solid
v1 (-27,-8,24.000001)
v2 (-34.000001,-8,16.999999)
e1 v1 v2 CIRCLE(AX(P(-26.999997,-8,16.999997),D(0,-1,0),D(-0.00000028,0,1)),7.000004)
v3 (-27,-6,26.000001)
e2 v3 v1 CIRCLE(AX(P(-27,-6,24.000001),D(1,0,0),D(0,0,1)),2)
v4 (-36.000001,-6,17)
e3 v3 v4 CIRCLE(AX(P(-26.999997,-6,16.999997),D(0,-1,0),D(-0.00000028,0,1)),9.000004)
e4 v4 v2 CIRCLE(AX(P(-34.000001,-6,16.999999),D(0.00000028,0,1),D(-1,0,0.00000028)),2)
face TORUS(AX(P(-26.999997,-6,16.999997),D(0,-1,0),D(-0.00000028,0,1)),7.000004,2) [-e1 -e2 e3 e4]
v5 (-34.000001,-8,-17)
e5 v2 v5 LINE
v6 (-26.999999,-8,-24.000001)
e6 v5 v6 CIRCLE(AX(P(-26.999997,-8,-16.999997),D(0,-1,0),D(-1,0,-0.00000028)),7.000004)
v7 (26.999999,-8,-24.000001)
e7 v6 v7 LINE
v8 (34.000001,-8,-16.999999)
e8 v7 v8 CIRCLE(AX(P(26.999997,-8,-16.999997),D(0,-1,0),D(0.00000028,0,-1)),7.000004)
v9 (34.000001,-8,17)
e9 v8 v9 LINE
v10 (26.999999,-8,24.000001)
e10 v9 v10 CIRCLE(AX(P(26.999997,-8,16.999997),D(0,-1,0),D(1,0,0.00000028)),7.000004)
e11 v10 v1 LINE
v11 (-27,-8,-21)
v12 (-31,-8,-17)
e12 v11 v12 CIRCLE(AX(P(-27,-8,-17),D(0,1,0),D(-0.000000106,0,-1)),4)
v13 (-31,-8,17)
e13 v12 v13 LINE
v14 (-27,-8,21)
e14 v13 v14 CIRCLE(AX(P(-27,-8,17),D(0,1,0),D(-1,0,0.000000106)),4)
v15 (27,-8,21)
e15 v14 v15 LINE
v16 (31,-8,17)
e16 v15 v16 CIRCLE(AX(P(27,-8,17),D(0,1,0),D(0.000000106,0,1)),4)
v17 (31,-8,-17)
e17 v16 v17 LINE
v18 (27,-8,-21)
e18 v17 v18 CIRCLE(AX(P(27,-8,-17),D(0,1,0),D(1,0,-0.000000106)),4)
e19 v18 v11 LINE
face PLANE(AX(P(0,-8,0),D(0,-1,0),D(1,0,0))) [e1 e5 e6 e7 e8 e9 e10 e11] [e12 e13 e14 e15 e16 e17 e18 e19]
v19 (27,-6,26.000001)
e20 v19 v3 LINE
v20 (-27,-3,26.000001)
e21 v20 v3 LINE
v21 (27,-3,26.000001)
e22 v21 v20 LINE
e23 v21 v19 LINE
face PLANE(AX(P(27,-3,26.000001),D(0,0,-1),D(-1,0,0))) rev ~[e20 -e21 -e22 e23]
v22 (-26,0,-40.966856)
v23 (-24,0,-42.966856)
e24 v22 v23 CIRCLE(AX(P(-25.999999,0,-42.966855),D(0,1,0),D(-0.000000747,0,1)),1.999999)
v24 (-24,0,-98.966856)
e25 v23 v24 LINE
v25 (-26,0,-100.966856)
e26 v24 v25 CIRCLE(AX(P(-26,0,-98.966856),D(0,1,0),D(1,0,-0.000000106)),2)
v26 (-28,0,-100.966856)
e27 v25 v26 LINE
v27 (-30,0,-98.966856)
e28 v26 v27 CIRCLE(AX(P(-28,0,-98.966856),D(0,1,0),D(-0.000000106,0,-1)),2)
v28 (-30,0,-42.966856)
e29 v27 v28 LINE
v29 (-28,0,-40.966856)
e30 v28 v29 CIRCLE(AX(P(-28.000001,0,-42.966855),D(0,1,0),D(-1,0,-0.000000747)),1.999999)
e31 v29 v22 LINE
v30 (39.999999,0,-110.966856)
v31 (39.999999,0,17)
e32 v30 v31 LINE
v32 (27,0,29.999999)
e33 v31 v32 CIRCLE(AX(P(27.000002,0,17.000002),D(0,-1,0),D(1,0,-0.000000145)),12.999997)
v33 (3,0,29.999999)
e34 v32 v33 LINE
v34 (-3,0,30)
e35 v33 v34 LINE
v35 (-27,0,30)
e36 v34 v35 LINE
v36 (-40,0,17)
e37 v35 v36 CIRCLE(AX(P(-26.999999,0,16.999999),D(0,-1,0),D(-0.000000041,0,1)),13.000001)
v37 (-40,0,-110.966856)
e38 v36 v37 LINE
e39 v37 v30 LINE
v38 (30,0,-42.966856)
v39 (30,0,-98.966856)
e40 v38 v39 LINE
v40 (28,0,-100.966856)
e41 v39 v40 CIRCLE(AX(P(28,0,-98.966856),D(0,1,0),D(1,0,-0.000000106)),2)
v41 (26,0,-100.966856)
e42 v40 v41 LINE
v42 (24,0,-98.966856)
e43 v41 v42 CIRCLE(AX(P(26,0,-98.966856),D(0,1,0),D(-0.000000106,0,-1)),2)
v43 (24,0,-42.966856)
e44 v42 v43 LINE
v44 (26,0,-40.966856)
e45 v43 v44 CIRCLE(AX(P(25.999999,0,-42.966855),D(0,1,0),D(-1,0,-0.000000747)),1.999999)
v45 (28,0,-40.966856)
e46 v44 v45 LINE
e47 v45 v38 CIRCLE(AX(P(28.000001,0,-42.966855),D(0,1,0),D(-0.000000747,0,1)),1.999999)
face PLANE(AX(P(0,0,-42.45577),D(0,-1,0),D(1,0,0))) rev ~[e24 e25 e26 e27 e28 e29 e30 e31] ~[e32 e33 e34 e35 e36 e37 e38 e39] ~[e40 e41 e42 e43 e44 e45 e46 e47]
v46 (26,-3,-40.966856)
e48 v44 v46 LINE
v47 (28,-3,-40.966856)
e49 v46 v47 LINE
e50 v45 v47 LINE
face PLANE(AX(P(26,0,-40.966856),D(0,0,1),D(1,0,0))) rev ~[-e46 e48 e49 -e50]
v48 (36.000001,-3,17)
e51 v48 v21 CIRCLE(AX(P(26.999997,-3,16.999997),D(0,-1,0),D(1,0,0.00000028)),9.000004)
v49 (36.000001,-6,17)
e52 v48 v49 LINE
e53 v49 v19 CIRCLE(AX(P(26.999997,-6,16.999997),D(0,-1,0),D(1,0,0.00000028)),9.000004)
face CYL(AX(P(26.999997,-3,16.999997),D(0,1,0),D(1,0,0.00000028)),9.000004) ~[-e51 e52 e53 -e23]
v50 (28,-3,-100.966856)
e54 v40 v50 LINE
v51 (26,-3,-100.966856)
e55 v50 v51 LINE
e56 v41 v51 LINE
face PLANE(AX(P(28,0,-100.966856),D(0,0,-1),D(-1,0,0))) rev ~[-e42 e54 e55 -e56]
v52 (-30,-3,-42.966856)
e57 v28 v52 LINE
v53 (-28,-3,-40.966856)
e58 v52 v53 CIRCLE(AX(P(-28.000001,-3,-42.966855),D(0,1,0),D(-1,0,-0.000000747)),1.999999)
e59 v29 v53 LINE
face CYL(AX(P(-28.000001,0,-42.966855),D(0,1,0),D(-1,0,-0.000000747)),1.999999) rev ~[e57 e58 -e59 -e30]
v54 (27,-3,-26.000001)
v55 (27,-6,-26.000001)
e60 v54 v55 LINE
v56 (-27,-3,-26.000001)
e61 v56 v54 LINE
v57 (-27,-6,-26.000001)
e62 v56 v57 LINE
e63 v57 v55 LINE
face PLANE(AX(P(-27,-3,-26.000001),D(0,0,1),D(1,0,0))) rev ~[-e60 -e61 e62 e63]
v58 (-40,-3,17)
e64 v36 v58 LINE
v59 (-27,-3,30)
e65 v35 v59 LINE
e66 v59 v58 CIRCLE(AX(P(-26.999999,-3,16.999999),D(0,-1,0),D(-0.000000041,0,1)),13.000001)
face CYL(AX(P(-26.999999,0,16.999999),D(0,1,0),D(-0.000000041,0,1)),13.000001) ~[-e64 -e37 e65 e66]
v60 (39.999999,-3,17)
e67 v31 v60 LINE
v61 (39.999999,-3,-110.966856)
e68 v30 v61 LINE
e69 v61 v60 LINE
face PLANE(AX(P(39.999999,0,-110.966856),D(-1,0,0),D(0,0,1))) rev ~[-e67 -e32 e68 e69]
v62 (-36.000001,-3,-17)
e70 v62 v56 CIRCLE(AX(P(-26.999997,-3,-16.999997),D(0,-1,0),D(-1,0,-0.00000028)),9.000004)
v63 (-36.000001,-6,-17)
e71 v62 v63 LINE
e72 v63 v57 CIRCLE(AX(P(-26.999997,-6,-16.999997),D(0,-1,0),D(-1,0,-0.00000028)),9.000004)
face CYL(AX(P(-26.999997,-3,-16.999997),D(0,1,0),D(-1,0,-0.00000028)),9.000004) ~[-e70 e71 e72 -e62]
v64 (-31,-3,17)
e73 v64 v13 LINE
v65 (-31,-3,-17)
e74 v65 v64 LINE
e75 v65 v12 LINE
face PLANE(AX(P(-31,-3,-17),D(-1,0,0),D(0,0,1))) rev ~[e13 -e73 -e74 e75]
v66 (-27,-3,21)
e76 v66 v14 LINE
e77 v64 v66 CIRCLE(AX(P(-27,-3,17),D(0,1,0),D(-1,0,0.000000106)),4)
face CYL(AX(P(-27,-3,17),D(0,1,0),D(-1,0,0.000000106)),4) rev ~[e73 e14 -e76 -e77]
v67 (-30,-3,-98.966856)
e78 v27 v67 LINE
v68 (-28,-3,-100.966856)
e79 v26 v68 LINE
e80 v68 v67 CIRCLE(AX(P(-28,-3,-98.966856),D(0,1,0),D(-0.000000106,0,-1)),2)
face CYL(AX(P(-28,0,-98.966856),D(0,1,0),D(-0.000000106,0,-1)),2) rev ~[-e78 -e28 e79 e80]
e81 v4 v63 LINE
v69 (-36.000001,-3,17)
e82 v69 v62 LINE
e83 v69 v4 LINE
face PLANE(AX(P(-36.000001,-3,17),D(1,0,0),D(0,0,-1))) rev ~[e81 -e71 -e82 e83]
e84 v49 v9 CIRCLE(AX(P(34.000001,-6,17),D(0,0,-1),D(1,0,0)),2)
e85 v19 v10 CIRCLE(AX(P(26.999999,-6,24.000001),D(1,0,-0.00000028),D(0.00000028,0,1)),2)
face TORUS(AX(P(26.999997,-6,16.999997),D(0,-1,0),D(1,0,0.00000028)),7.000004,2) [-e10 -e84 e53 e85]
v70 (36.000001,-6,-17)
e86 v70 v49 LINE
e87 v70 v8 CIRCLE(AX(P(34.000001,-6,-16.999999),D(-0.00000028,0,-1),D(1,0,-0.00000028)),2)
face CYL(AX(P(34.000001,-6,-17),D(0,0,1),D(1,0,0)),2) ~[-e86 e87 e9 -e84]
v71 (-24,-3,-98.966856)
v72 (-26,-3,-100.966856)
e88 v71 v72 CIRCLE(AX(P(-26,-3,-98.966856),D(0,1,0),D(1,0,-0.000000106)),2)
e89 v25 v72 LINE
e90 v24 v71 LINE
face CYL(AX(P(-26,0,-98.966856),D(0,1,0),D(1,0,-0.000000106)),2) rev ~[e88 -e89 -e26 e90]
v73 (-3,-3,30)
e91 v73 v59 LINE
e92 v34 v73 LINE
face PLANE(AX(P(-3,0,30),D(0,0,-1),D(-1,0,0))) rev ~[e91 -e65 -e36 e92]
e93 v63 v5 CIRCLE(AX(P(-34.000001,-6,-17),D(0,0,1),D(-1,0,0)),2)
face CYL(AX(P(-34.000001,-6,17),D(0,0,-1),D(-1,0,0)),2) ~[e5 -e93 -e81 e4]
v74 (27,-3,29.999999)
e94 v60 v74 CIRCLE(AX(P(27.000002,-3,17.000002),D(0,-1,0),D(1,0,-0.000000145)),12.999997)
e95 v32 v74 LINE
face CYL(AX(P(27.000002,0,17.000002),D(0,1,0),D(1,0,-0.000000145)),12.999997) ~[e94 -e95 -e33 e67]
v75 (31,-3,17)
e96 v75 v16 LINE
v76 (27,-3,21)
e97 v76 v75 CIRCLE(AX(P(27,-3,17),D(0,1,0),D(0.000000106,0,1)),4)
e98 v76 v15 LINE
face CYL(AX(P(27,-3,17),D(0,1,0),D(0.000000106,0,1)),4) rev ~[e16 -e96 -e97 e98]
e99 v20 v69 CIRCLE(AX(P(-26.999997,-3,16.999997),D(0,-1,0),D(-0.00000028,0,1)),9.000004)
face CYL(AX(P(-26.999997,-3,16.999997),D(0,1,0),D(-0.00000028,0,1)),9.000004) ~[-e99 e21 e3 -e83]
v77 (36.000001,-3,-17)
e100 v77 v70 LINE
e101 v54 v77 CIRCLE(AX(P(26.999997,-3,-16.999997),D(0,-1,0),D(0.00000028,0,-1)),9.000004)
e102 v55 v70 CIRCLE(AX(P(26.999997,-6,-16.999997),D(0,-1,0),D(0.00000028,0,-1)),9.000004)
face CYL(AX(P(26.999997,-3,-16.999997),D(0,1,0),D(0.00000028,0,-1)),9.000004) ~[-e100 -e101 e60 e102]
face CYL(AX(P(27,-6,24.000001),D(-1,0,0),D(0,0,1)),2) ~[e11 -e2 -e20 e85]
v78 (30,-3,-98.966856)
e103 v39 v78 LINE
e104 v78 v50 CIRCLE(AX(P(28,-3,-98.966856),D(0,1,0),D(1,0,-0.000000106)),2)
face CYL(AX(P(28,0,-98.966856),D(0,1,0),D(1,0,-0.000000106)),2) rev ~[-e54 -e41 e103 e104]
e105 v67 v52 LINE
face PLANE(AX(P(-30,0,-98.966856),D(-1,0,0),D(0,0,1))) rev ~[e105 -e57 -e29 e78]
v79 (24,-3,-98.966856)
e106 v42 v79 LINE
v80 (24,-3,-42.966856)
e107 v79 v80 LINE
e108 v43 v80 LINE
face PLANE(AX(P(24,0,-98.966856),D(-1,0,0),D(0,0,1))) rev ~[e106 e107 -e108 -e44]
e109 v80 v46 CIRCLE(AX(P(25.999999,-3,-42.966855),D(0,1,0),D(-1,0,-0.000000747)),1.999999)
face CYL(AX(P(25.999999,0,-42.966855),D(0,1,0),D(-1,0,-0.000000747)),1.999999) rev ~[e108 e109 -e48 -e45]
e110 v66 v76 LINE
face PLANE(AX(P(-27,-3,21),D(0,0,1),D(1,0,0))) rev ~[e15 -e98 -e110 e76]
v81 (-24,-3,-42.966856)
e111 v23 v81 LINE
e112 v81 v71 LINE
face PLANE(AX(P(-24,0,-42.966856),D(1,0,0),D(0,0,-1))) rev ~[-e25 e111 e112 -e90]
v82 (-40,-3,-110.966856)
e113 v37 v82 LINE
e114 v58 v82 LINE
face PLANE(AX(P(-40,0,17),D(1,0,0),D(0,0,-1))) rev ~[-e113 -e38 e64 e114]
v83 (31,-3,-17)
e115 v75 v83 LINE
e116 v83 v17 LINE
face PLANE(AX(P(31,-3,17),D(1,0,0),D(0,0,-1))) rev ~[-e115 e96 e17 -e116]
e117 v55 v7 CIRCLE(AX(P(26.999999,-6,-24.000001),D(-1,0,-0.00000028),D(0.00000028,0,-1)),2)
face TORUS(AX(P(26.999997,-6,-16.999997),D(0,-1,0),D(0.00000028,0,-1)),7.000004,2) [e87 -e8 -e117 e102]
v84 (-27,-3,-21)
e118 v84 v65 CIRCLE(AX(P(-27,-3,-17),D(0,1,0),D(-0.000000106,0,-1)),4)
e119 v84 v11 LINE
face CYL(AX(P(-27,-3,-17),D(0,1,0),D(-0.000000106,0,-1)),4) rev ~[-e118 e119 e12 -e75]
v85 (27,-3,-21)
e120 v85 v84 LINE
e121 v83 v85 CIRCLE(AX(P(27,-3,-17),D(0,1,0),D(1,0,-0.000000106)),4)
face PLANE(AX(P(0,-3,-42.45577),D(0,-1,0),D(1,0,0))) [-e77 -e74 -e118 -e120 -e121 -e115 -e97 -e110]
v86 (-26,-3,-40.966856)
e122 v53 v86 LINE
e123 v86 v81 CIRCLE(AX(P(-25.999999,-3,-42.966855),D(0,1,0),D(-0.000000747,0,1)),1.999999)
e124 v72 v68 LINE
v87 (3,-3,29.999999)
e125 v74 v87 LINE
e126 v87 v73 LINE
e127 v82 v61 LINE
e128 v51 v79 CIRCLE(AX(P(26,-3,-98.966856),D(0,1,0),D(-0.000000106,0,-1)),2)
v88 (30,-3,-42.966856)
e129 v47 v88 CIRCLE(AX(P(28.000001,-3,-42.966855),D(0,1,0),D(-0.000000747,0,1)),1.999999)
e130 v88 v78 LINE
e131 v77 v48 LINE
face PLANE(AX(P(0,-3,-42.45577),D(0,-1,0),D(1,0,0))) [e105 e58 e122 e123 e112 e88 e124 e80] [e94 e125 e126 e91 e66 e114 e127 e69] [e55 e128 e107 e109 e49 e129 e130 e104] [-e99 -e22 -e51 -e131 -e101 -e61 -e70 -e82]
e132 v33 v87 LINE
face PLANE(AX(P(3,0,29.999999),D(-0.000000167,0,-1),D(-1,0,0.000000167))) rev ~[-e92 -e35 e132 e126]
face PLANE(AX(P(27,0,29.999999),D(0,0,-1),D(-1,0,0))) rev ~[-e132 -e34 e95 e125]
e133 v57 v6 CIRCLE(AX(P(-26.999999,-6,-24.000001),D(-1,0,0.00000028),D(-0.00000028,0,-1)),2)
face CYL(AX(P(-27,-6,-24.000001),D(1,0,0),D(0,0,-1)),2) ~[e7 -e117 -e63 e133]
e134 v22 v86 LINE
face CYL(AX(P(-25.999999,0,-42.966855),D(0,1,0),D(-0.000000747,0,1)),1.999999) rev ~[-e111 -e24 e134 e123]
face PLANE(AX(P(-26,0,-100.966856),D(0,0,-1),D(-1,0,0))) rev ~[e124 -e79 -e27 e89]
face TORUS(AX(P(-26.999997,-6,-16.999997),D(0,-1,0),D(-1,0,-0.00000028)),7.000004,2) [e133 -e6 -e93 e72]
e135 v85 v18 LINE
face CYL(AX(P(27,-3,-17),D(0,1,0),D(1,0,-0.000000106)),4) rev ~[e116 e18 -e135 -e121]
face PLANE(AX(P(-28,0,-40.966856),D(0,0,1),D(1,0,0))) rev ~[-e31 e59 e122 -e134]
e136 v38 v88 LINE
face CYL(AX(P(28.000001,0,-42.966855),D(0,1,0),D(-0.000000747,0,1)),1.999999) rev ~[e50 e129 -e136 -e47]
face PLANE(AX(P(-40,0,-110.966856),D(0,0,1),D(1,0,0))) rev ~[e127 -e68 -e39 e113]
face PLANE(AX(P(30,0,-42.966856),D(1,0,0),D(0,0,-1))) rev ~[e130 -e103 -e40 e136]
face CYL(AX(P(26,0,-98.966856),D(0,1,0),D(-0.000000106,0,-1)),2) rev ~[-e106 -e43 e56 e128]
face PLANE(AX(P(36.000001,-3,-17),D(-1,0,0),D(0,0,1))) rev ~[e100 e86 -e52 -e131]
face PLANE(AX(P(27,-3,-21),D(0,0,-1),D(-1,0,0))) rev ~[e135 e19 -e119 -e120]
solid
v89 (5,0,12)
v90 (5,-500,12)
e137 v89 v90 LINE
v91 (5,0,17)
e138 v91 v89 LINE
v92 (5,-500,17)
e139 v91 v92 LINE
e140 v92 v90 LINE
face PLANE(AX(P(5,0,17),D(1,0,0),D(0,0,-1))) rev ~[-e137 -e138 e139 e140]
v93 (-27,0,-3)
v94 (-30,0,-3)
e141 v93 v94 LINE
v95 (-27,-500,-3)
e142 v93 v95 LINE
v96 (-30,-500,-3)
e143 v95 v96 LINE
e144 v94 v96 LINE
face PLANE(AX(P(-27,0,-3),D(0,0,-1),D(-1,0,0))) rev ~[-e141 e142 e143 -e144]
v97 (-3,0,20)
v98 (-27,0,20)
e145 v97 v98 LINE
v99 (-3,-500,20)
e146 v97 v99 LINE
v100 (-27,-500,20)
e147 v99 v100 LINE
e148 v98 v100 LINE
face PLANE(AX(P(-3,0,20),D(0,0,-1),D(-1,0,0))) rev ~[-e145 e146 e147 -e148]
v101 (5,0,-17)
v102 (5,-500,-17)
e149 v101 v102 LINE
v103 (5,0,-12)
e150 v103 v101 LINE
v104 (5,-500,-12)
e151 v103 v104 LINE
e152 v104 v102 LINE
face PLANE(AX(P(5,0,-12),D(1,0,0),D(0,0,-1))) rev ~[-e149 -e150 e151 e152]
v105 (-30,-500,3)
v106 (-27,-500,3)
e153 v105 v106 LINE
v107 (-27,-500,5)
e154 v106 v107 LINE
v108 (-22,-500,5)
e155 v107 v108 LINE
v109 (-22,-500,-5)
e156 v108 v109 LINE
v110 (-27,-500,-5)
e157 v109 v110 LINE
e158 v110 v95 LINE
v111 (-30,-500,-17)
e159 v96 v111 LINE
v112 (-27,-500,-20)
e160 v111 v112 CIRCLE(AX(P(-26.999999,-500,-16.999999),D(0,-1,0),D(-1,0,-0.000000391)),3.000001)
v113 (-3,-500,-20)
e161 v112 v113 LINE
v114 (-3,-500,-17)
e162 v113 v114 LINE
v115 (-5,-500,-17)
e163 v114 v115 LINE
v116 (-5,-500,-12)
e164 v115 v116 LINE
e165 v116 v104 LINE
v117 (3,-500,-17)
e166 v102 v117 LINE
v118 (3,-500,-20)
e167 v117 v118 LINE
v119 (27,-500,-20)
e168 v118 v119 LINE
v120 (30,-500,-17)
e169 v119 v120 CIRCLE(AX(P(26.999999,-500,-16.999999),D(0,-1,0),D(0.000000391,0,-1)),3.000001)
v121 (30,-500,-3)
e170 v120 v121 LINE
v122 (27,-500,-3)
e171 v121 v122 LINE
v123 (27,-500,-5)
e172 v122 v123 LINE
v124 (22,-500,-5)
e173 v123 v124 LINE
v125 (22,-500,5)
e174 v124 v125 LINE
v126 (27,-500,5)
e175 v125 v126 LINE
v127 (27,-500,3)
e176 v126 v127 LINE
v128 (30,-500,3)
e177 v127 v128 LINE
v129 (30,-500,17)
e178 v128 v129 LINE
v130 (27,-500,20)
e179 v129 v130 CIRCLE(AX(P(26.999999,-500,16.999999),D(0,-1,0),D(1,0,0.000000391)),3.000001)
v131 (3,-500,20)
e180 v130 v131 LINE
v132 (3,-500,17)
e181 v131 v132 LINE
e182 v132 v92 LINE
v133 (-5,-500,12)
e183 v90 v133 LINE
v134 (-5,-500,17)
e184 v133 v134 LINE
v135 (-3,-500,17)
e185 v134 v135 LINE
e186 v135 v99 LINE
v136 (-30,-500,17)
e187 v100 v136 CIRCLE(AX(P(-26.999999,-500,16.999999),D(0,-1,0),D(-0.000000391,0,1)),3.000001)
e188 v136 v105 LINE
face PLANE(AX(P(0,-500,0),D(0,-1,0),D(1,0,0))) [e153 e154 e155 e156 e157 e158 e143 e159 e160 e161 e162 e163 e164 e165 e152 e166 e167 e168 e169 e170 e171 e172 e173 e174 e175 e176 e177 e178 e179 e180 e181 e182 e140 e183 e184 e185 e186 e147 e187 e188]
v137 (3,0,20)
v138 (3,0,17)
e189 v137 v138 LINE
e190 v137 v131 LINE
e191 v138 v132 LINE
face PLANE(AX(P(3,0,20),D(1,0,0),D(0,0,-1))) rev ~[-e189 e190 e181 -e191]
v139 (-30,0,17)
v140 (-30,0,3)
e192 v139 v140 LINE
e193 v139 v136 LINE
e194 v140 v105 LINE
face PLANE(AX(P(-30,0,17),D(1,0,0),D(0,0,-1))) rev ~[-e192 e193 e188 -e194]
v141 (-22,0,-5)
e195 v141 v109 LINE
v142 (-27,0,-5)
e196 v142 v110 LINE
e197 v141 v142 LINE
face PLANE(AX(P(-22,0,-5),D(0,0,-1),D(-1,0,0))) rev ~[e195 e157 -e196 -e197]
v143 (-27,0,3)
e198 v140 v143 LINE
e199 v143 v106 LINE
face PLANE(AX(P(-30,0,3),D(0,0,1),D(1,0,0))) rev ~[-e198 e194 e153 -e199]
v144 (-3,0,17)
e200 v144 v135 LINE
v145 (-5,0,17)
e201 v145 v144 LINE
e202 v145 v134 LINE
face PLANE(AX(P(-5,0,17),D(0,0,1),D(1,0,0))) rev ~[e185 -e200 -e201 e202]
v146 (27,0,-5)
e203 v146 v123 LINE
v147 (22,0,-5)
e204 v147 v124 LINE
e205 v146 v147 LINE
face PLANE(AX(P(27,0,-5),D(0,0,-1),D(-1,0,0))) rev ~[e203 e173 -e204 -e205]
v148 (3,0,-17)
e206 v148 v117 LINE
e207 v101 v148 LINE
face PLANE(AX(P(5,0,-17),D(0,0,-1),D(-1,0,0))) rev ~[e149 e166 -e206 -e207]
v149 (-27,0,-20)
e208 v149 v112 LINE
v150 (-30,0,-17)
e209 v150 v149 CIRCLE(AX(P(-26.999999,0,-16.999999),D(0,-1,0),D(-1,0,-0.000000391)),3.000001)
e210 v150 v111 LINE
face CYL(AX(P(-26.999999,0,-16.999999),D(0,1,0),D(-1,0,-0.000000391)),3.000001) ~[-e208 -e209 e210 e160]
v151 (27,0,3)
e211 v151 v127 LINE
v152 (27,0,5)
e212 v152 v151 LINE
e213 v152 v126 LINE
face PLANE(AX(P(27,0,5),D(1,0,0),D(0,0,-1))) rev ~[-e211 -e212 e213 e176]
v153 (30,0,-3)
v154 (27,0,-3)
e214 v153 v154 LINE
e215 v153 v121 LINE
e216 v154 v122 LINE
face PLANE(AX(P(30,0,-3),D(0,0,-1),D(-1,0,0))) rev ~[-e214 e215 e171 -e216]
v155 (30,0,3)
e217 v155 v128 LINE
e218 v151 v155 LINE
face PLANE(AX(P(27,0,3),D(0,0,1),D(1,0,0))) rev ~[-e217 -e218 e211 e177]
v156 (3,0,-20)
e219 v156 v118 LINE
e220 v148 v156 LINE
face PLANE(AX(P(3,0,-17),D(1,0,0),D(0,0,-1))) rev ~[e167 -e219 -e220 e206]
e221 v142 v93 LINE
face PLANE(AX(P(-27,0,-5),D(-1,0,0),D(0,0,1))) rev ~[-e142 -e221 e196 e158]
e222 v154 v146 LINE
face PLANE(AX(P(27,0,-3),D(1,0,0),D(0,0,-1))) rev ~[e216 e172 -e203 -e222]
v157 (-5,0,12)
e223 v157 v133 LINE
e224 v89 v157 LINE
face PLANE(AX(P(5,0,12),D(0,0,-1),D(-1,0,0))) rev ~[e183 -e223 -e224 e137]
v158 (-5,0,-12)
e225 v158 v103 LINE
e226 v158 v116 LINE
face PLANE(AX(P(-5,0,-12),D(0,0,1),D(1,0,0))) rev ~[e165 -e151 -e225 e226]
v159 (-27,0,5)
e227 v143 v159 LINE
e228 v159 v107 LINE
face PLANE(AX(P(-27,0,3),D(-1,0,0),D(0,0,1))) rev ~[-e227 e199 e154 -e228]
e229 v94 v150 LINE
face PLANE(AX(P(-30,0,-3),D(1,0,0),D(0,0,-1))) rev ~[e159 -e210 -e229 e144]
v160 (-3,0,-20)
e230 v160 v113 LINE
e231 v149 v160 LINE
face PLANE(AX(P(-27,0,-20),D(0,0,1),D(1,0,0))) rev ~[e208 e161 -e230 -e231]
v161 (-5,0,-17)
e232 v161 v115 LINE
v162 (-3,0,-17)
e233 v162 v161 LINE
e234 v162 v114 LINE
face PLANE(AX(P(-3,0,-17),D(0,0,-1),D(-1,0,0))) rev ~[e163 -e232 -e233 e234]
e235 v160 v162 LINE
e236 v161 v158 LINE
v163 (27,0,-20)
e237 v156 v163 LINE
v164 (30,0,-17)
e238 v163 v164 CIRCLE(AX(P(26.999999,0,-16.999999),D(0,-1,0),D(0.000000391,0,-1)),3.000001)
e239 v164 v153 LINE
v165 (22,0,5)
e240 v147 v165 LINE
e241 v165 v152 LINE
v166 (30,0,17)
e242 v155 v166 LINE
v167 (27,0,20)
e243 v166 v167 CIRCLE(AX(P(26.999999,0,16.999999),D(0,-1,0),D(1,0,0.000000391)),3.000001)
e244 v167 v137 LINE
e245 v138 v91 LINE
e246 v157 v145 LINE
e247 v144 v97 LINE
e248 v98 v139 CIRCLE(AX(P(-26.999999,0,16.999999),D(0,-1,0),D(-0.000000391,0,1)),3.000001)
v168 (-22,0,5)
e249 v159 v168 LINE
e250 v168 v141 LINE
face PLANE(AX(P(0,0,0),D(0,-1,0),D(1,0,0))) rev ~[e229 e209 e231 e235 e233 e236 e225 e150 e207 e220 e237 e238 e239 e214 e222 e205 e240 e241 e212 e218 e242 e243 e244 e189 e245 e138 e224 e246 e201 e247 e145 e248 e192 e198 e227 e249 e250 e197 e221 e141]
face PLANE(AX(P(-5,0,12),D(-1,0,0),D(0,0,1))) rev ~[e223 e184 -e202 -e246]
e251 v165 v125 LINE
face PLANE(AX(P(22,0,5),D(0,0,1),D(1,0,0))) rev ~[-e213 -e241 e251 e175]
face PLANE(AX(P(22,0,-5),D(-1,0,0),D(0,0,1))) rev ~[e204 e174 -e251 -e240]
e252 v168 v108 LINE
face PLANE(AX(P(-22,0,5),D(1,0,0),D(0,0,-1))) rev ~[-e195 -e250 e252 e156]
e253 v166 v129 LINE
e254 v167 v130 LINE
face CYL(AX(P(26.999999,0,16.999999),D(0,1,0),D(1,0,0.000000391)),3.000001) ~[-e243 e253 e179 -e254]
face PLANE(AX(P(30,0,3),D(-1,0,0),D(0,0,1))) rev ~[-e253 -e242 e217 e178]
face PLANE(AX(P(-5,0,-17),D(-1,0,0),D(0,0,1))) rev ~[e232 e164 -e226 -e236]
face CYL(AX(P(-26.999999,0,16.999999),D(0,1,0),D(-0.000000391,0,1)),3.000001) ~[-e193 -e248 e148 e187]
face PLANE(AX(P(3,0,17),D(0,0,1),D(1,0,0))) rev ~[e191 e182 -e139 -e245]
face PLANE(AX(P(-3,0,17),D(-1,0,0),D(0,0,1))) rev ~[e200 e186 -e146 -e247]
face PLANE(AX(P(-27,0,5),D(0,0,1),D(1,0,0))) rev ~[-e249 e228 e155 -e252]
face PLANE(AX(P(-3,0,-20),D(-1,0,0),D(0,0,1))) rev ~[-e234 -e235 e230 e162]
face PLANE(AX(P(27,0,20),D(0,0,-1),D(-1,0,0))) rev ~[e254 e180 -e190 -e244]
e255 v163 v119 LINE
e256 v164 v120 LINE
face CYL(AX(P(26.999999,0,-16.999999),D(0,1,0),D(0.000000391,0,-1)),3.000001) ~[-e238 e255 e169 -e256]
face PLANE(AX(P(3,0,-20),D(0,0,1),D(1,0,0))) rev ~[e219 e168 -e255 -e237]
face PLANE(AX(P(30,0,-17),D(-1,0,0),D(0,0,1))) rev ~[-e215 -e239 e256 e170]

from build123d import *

# Parameters (mm, degrees)
F1_DEPTH = 500
F3_DEPTH = 3
F5_DEPTH = 5
F6_R     = 2


with BuildPart() as f1:
    # F0 (on Front) → F1 (new body)
    with BuildSketch(Plane.XZ):
        with BuildLine():
            Line((3, -20), (27, -20))
            ThreePointArc((27, -20), (29.12132, -19.12132), (30, -17))
            Line((30, -17), (30, -3))
            Line((30, -3), (27, -3))
            Line((27, -3), (27, -5))
            Line((27, -5), (22, -5))
            Line((22, -5), (22, 5))
            Line((22, 5), (27, 5))
            Line((27, 5), (27, 3))
            Line((27, 3), (30, 3))
            Line((30, 3), (30, 17))
            ThreePointArc((30, 17), (29.12132, 19.12132), (27, 20))
            Line((27, 20), (3, 20))
            Line((3, 20), (3, 17))
            Line((3, 17), (5, 17))
            Line((5, 17), (5, 12))
            Line((5, 12), (-5, 12))
            Line((-5, 12), (-5, 17))
            Line((-5, 17), (-3, 17))
            Line((-3, 17), (-3, 20))
            Line((-3, 20), (-27, 20))
            ThreePointArc((-27, 20), (-29.12132, 19.12132), (-30, 17))
            Line((-30, 17), (-30, 3))
            Line((-30, 3), (-27, 3))
            Line((-27, 3), (-27, 5))
            Line((-27, 5), (-22, 5))
            Line((-22, 5), (-22, -5))
            Line((-22, -5), (-27, -5))
            Line((-27, -5), (-27, -3))
            Line((-27, -3), (-30, -3))
            Line((-30, -3), (-30, -17))
            ThreePointArc((-30, -17), (-29.12132, -19.12132), (-27, -20))
            Line((-27, -20), (-3, -20))
            Line((-3, -20), (-3, -17))
            Line((-3, -17), (-5, -17))
            Line((-5, -17), (-5, -12))
            Line((-5, -12), (5, -12))
            Line((5, -12), (5, -17))
            Line((5, -17), (3, -17))
            Line((3, -17), (3, -20))
        make_face()
    extrude(amount=F1_DEPTH)


with BuildPart() as f3:
    # F2 (on Front) → F3 (new body)
    with BuildSketch(Plane.XZ):
        with BuildLine():
            Line((3, 29.999999), (-3, 30))
            Line((-3, 30), (-27, 30))
            ThreePointArc((-27, 30), (-36.192388, 26.192388), (-40, 17))
            Line((-40, 17), (-40, 3))
            Line((-40, 3), (-40, -110.966856))
            Line((-40, -110.966856), (39.999999, -110.966856))
            Line((39.999999, -110.966856), (39.999999, 3))
            Line((39.999999, 3), (39.999999, 17))
            ThreePointArc((39.999999, 17), (36.192388, 26.192388), (27, 29.999999))
            Line((27, 29.999999), (3, 29.999999))
        make_face()
        with BuildLine():
            ThreePointArc((-24, -98.966856), (-24.585786, -100.381069), (-26, -100.966856))
            Line((-26, -100.966856), (-28, -100.966856))
            ThreePointArc((-28, -100.966856), (-29.414214, -100.381069), (-30, -98.966856))
            Line((-30, -98.966856), (-30, -42.966856))
            ThreePointArc((-30, -42.966856), (-29.414214, -41.552642), (-28, -40.966856))
            Line((-28, -40.966856), (-26, -40.966856))
            ThreePointArc((-26, -40.966856), (-24.585786, -41.552642), (-24, -42.966856))
            Line((-24, -42.966856), (-24, -98.966856))
        make_face(mode=Mode.SUBTRACT)
        with BuildLine():
            ThreePointArc((26, -100.966856), (24.585786, -100.381069), (24, -98.966856))
            Line((24, -98.966856), (24, -42.966856))
            ThreePointArc((24, -42.966856), (24.585786, -41.552642), (26, -40.966856))
            Line((26, -40.966856), (28, -40.966856))
            ThreePointArc((28, -40.966856), (29.414214, -41.552642), (30, -42.966856))
            Line((30, -42.966856), (30, -98.966856))
            ThreePointArc((30, -98.966856), (29.414214, -100.381069), (28, -100.966856))
            Line((28, -100.966856), (26, -100.966856))
        make_face(mode=Mode.SUBTRACT)
    extrude(amount=F3_DEPTH)

    # F4 (on face) → F5 (join)
    with BuildSketch(Plane.XZ.offset(3)):
        with BuildLine():
            Line((3, 26.000001), (-3, 26.000001))
            Line((-3, 26.000001), (-27, 26.000001))
            ThreePointArc((-27, 26.000001), (-33.363961, 23.363961), (-36.000001, 17))
            Line((-36.000001, 17), (-36.000001, 3))
            Line((-36.000001, 3), (-36.000001, -3))
            Line((-36.000001, -3), (-36.000001, -17))
            ThreePointArc((-36.000001, -17), (-33.363961, -23.363961), (-27, -26.000001))
            Line((-27, -26.000001), (-3, -26.000001))
            Line((-3, -26.000001), (3, -26.000001))
            Line((3, -26.000001), (27, -26.000001))
            ThreePointArc((27, -26.000001), (33.363961, -23.363961), (36.000001, -17))
            Line((36.000001, -17), (36.000001, -3))
            Line((36.000001, -3), (36.000001, 3))
            Line((36.000001, 3), (36.000001, 17))
            ThreePointArc((36.000001, 17), (33.363961, 23.363961), (27, 26.000001))
            Line((27, 26.000001), (3, 26.000001))
        make_face()
        with BuildLine():
            Line((-31, -3), (-31, 3))
            Line((-31, 3), (-31, 17))
            ThreePointArc((-31, 17), (-29.828427, 19.828427), (-27, 21))
            Line((-27, 21), (-3, 21))
            Line((-3, 21), (3, 21))
            Line((3, 21), (27, 21))
            ThreePointArc((27, 21), (29.828427, 19.828427), (31, 17))
            Line((31, 17), (31, 3))
            Line((31, 3), (31, -3))
            Line((31, -3), (31, -17))
            ThreePointArc((31, -17), (29.828427, -19.828427), (27, -21))
            Line((27, -21), (3, -21))
            Line((3, -21), (-3, -21))
            Line((-3, -21), (-27, -21))
            ThreePointArc((-27, -21), (-29.828427, -19.828427), (-31, -17))
            Line((-31, -17), (-31, -3))
        make_face(mode=Mode.SUBTRACT)
    extrude(amount=F5_DEPTH)

    # F6
    f6_edges = [f3.edges().sort_by_distance(p)[0] for p in [
        (33.363961, -8, -23.363961),
    ]]
    fillet(f6_edges, radius=F6_R)


solid = Compound([f1.part, f3.part])
